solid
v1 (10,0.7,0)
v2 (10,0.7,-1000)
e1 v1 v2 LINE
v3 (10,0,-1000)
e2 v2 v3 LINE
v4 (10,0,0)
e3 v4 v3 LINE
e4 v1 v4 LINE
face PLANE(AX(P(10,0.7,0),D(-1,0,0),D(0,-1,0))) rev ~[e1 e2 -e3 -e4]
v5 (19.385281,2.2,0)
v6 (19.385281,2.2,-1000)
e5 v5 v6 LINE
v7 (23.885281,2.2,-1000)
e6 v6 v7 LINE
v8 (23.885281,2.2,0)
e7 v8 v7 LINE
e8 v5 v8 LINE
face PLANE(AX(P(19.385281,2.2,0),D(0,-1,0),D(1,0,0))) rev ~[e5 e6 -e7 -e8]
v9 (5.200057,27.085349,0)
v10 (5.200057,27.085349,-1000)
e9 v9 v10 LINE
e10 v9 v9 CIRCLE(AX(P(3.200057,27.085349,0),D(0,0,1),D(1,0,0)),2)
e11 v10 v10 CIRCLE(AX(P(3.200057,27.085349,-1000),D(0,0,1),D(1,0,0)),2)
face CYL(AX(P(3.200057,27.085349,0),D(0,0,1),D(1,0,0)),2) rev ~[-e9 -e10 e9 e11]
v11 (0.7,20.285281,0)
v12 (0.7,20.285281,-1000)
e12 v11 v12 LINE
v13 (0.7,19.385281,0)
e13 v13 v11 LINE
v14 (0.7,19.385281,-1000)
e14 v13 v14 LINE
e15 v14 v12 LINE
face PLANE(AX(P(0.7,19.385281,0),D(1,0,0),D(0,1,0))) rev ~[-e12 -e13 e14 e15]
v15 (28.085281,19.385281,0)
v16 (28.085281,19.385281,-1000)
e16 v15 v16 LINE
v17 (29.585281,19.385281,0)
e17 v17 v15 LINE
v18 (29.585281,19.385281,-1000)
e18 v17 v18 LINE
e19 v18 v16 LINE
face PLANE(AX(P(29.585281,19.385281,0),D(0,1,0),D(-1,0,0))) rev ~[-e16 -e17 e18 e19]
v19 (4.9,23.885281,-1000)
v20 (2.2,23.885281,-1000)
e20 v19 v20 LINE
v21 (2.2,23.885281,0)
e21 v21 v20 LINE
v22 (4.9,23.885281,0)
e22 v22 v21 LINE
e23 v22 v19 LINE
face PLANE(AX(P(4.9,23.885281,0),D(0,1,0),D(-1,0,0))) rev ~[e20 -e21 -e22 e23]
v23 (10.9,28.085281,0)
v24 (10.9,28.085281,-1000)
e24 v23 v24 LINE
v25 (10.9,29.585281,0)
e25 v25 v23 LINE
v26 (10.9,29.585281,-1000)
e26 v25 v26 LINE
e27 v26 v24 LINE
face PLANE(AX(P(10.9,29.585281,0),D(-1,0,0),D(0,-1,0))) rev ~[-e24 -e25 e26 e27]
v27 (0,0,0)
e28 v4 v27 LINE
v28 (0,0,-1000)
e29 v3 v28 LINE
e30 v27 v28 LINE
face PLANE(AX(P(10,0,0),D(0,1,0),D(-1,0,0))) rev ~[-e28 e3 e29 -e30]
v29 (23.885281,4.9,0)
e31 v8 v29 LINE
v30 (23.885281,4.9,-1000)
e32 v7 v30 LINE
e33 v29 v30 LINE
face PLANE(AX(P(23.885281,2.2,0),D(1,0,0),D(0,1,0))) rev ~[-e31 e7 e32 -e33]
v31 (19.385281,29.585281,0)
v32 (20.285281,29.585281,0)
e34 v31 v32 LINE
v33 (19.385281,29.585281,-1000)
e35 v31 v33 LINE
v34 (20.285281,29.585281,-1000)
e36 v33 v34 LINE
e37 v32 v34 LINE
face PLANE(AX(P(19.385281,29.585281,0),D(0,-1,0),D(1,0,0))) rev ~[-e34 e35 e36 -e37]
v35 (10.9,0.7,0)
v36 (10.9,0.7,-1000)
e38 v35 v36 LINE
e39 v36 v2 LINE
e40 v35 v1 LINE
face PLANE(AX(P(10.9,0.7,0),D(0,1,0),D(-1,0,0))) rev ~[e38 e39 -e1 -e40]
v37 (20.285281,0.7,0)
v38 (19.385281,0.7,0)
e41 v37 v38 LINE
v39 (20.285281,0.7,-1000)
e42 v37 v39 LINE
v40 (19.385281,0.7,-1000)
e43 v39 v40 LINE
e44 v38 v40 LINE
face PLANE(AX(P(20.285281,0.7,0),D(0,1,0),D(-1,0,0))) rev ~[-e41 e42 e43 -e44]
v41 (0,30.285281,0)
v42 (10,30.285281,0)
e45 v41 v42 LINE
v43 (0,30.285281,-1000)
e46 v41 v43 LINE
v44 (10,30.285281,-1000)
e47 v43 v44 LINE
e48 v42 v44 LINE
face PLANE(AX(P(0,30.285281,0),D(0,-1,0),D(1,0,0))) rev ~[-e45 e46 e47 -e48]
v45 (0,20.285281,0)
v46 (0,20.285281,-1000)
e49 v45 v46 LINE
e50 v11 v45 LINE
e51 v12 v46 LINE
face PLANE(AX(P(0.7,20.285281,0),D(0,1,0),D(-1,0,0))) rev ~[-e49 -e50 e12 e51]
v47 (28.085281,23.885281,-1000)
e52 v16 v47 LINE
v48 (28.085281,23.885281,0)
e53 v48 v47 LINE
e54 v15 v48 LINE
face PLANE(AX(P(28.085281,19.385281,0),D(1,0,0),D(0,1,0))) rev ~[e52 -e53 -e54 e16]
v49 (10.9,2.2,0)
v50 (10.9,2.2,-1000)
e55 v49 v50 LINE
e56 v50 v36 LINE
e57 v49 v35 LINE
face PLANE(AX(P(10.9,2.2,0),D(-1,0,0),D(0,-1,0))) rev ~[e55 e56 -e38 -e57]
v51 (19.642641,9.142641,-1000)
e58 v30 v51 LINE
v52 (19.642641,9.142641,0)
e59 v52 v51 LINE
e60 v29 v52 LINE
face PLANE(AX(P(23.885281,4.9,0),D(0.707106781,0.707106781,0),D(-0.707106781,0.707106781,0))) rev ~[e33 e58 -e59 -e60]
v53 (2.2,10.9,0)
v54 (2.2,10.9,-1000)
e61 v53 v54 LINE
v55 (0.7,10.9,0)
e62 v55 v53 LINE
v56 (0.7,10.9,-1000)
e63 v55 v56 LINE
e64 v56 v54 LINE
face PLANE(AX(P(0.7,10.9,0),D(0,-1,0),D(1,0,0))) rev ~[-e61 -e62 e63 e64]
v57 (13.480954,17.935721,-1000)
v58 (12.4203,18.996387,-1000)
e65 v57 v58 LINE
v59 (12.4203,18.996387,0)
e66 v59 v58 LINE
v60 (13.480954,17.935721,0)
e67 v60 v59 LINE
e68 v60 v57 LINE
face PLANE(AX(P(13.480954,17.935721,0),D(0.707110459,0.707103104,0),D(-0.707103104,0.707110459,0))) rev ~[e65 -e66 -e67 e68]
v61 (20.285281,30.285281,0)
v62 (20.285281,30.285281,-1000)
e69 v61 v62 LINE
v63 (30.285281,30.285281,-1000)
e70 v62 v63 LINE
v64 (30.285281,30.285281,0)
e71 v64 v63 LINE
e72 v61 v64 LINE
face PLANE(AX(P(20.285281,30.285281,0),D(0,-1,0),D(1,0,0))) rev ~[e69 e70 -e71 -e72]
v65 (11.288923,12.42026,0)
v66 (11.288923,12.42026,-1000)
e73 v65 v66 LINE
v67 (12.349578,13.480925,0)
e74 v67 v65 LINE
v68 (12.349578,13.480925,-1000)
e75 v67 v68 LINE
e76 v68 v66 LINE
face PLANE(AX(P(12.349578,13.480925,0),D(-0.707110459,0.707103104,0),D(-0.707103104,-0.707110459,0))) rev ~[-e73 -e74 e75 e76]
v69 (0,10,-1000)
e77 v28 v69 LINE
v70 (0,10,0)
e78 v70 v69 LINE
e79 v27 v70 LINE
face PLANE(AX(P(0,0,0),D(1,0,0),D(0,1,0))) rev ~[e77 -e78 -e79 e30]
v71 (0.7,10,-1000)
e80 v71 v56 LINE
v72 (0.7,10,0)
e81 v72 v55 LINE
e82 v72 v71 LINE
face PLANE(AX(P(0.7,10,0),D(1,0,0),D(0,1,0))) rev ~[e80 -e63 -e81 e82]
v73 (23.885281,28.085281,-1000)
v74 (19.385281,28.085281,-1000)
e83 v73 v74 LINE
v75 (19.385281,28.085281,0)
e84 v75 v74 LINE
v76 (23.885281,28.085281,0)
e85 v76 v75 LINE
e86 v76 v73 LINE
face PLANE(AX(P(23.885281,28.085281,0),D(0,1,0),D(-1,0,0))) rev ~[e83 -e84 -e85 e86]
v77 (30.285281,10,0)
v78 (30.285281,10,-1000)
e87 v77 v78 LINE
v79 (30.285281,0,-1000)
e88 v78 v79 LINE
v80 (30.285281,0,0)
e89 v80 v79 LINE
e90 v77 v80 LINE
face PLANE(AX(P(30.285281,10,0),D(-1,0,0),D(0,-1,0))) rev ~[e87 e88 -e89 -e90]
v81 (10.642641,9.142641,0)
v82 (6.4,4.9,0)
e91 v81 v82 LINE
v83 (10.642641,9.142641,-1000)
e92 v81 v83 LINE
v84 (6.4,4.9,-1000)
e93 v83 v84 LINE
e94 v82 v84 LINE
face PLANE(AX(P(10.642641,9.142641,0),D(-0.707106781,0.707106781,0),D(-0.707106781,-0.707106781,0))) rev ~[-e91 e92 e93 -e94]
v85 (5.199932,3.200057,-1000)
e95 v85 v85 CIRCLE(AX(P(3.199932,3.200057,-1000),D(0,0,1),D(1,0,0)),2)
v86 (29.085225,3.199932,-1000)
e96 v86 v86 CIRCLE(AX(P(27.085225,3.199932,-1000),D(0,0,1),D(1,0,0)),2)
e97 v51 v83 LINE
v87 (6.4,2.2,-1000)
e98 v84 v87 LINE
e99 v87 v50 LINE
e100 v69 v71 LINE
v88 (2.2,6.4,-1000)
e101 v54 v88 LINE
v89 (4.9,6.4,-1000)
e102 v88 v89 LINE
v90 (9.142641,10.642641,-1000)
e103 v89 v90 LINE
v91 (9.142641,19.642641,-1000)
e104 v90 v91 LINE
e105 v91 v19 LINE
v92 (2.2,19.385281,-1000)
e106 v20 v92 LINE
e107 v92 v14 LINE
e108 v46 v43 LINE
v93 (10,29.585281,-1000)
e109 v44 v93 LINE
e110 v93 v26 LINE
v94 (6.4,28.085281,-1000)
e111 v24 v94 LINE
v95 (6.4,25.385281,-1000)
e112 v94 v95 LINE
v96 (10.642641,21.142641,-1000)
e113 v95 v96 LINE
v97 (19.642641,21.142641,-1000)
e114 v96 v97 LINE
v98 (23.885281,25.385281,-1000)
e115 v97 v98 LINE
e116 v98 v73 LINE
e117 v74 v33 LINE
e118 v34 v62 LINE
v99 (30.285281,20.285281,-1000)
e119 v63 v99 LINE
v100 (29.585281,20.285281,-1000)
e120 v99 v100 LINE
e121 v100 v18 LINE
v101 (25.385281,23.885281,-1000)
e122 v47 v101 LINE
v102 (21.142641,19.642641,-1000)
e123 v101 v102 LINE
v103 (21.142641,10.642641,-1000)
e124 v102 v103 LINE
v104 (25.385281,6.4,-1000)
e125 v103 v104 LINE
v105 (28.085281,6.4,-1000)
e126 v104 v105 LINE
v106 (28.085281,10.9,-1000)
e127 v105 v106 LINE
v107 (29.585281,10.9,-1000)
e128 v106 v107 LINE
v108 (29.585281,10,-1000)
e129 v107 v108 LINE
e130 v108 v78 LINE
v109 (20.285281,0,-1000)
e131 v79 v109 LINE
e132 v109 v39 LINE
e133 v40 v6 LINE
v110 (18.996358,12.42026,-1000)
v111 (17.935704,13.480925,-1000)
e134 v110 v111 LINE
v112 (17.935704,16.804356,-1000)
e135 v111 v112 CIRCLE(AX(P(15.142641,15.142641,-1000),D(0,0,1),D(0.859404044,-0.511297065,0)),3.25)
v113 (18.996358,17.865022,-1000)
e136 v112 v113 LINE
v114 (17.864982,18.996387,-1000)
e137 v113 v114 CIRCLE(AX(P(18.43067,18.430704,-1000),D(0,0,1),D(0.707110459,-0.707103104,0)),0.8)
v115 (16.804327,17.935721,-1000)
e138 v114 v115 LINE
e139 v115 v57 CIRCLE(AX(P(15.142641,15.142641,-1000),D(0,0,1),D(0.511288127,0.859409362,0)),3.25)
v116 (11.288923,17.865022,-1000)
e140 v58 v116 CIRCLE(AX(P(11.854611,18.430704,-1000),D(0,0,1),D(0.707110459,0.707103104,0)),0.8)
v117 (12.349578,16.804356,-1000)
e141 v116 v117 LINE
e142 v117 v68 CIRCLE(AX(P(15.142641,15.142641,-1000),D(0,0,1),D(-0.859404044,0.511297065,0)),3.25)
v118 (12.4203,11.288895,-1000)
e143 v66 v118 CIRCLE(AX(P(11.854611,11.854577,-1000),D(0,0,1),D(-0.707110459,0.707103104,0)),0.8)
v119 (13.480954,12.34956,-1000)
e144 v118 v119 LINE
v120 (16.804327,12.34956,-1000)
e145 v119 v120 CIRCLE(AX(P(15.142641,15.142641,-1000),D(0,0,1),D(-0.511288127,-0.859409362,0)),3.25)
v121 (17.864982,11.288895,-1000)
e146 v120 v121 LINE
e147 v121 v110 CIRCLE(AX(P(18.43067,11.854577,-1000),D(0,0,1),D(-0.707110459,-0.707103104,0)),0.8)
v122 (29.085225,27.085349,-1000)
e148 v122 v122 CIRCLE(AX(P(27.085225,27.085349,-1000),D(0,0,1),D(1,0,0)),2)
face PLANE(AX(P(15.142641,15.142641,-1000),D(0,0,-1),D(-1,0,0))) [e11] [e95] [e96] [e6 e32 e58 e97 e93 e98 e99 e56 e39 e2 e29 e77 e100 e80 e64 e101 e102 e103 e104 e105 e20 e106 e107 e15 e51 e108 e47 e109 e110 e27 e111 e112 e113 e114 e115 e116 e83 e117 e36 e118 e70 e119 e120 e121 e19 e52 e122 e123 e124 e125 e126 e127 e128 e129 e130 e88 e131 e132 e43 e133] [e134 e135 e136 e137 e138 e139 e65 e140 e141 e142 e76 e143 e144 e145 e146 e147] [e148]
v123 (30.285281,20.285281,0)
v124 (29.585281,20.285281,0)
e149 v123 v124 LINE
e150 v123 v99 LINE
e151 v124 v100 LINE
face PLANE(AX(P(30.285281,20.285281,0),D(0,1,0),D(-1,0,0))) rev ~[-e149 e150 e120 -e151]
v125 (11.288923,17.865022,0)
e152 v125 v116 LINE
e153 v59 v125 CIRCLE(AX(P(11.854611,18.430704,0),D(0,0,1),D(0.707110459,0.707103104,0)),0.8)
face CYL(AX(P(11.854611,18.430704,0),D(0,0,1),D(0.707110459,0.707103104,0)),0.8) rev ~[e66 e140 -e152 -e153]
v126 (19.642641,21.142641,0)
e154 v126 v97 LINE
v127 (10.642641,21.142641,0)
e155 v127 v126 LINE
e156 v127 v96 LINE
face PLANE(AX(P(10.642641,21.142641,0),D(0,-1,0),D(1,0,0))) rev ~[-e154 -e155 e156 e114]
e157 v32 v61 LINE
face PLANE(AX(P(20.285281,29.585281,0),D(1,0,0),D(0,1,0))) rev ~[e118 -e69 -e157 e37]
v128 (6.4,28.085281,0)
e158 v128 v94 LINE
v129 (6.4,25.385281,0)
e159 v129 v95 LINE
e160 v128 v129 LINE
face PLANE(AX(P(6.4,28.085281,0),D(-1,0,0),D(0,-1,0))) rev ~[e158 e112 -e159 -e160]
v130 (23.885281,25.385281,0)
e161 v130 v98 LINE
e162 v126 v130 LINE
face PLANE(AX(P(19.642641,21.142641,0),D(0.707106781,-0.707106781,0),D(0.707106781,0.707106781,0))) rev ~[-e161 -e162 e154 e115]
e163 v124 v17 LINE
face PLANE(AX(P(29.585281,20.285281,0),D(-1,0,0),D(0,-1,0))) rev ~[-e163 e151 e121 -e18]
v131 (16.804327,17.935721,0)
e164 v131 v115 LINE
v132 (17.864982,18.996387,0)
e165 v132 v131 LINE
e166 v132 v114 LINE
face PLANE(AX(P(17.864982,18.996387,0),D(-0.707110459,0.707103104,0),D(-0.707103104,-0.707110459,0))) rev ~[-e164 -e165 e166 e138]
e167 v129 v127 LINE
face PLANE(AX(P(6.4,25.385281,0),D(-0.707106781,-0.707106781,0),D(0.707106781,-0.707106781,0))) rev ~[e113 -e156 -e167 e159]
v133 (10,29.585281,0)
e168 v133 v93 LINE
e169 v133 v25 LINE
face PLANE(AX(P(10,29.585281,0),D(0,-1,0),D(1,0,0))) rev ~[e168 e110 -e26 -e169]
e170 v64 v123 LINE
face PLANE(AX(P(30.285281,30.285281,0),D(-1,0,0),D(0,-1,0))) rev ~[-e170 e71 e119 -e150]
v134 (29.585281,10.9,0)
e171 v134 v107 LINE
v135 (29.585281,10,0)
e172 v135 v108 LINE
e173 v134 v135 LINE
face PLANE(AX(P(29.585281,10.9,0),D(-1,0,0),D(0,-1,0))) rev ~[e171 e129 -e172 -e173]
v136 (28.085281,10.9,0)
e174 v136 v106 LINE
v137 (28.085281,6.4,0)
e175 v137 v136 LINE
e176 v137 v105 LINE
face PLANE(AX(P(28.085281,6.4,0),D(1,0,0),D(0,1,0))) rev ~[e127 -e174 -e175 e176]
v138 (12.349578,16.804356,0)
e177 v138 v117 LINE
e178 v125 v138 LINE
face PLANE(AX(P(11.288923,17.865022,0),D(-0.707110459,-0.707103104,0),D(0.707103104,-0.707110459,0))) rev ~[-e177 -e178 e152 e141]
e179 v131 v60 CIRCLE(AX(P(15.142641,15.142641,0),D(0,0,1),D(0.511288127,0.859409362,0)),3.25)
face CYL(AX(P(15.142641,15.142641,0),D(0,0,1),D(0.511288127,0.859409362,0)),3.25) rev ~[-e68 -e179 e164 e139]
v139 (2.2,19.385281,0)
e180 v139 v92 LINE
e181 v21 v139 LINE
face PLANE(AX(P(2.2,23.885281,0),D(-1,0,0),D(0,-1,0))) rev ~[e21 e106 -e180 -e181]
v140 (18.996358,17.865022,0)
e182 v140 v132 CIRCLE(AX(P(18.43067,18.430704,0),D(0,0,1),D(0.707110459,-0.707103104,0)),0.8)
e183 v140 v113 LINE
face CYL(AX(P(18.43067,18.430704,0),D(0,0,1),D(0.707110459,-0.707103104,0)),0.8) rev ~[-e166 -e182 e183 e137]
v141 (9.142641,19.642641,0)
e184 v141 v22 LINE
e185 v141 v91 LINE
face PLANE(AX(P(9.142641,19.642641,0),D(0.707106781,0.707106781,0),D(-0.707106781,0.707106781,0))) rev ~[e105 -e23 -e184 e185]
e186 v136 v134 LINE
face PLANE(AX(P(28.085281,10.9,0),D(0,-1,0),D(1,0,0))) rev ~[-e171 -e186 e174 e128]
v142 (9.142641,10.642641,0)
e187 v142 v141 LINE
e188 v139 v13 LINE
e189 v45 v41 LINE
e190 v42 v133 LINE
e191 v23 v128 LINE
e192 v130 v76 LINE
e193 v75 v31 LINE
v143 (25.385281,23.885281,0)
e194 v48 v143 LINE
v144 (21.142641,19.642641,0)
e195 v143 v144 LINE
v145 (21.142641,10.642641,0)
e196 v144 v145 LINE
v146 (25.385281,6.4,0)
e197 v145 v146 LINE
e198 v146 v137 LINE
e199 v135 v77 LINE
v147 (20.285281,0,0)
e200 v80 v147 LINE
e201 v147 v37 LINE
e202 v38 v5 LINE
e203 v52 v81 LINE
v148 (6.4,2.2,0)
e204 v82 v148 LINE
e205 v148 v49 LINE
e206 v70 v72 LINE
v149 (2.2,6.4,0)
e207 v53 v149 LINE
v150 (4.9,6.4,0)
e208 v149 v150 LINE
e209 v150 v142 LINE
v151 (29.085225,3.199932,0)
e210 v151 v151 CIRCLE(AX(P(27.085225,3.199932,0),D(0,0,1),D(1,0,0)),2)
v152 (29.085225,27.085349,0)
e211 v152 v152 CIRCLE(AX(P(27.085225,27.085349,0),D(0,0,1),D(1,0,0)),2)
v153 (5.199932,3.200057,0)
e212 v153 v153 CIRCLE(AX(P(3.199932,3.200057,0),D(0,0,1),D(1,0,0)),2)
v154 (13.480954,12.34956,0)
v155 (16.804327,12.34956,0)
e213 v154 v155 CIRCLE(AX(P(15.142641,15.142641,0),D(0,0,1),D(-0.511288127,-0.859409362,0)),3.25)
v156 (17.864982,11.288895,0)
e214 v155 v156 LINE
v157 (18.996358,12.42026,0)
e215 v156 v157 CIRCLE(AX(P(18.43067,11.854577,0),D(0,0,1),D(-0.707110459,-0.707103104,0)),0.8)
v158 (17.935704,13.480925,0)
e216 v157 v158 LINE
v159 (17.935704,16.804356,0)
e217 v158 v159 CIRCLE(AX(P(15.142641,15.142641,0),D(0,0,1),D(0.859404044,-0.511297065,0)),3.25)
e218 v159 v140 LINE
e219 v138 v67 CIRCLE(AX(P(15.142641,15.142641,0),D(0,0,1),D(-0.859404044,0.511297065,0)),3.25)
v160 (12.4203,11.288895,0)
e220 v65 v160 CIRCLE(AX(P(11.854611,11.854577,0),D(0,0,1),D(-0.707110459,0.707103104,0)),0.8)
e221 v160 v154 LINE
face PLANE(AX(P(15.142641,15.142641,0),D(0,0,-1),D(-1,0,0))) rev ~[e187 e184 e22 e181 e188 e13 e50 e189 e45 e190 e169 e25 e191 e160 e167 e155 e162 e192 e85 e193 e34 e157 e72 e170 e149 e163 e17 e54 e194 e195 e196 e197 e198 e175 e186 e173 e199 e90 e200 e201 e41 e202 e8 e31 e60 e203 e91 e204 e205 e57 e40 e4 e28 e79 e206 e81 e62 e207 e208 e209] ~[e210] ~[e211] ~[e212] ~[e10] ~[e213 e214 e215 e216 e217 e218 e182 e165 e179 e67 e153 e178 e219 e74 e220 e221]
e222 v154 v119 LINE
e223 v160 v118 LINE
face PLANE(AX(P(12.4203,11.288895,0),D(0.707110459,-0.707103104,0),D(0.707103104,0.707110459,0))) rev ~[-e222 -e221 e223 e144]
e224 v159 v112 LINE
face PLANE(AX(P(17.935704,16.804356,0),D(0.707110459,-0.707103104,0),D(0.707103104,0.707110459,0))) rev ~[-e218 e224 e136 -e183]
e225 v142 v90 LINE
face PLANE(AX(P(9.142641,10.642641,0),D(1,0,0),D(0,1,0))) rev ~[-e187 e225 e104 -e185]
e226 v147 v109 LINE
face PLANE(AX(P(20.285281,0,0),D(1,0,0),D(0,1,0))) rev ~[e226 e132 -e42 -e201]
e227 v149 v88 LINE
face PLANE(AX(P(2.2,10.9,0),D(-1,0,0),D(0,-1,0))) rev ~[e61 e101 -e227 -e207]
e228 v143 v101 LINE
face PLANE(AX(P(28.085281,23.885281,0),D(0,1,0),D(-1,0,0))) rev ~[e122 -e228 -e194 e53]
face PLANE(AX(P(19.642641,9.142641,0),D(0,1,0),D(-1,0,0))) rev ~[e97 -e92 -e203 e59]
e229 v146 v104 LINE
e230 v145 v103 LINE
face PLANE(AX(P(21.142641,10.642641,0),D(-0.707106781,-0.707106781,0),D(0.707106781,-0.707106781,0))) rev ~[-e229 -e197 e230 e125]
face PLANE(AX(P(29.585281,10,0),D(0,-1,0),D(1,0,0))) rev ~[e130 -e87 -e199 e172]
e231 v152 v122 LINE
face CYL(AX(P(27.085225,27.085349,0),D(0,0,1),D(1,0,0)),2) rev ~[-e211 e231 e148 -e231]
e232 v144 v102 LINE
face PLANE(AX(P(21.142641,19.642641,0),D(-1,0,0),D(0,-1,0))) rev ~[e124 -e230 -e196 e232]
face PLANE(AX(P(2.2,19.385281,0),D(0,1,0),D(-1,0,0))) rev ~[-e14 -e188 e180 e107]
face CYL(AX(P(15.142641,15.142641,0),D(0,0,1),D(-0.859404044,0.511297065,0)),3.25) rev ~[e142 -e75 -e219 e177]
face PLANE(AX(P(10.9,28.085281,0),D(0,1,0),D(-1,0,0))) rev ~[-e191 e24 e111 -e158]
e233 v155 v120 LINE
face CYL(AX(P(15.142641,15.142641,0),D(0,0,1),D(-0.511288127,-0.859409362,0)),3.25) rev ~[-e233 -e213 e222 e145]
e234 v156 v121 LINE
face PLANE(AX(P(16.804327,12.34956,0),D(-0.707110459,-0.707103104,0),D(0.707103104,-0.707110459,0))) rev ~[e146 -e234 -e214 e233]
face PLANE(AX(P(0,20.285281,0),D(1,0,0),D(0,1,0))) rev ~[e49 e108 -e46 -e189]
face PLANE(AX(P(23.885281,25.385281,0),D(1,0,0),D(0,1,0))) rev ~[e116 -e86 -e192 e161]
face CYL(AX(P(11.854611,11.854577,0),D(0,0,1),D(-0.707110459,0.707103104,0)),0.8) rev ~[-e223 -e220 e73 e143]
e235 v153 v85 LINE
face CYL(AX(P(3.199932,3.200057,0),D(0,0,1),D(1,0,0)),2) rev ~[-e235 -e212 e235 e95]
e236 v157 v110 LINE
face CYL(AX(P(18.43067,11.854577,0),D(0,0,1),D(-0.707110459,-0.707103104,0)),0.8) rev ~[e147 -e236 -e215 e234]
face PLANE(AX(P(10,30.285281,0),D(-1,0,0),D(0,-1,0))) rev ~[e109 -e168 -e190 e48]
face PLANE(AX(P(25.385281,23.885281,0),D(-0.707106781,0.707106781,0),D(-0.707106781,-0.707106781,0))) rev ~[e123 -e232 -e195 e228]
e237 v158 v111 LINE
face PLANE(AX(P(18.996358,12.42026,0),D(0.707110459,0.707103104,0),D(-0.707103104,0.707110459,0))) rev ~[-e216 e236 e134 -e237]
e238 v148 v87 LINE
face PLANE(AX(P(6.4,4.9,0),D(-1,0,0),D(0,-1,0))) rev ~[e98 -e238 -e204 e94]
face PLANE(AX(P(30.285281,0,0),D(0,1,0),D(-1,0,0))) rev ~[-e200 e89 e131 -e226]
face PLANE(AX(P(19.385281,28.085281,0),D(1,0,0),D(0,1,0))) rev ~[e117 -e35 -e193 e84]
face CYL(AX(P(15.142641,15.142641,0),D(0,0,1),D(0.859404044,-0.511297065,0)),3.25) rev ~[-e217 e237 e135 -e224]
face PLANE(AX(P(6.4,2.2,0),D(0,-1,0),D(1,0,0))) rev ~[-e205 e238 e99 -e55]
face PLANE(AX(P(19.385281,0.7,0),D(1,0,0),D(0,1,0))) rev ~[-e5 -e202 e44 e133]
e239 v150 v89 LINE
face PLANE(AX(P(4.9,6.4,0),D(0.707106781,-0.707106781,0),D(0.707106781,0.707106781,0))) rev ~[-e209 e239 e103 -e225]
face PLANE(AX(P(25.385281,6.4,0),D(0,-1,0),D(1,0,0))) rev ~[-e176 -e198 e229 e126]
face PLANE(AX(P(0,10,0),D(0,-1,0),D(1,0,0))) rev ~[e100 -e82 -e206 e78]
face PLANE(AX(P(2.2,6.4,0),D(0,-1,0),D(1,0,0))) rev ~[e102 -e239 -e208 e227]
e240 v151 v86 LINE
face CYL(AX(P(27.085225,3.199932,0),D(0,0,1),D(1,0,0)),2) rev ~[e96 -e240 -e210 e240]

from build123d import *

# Parameters (mm, degrees)
BOSS_EXTRUDE2_DEPTH = 1000
CUT_EXTRUDE1_REACH  = 1002
SKETCH3_R           = 2
SKETCH3_R_2         = 1.999999992


with BuildPart() as part:
    # Sketch2 → Boss-Extrude2 (new body)
    with BuildSketch(Plane.XY):
        Polygon((0, 0), (0, 10), (0.7, 10), (0.7, 10.9), (2.2, 10.9), (2.2, 6.4), (4.9, 6.4), (9.142640687, 10.642640687), (9.142640687, 19.642640687), (4.9, 23.885281374), (2.2, 23.885281374), (2.2, 19.385281374), (0.7, 19.385281374), (0.7, 20.285281374), (0, 20.285281374), (0, 30.285281374), (10, 30.285281374), (10, 29.585281374), (10.9, 29.585281374), (10.9, 28.085281374), (6.4, 28.085281374), (6.4, 25.385281374), (10.642640687, 21.142640687), (19.642640687, 21.142640687), (23.885281374, 25.385281374), (23.885281374, 28.085281374), (19.385281374, 28.085281374), (19.385281374, 29.585281374), (20.285281374, 29.585281374), (20.285281374, 30.285281374), (30.285281374, 30.285281374), (30.285281374, 20.285281374), (29.585281374, 20.285281374), (29.585281374, 19.385281374), (28.085281374, 19.385281374), (28.085281374, 23.885281374), (25.385281374, 23.885281374), (21.142640687, 19.642640687), (21.142640687, 10.642640687), (25.385281374, 6.4), (28.085281374, 6.4), (28.085281374, 10.9), (29.585281374, 10.9), (29.585281374, 10), (30.285281374, 10), (30.285281374, 0), (20.285281374, 0), (20.285281374, 0.7), (19.385281374, 0.7), (19.385281374, 2.2), (23.885281374, 2.2), (23.885281374, 4.9), (19.642640687, 9.142640687), (10.642640687, 9.142640687), (6.4, 4.9), (6.4, 2.2), (10.9, 2.2), (10.9, 0.7), (10, 0.7), (10, 0), align=None)
    extrude(amount=-BOSS_EXTRUDE2_DEPTH)

    # Sketch3 → Cut-Extrude1 (cut, up to next)
    with BuildSketch(Plane.XY, mode=Mode.PRIVATE) as cut_extrude1_sk1:
        with Locations((3.200056686, 27.085348905)):
            Circle(SKETCH3_R)
    cut_extrude1_tool1 = extrude(cut_extrude1_sk1.sketch, amount=-CUT_EXTRUDE1_REACH, mode=Mode.PRIVATE) & part.part
    add(cut_extrude1_tool1.solids().sort_by_distance((3.200057, 27.085349, 0))[0], mode=Mode.SUBTRACT)
    # Sketch3 → Cut-Extrude1 (cut, up to next)
    with BuildSketch(Plane.XY, mode=Mode.PRIVATE) as cut_extrude1_sk2:
        with Locations((27.085224689, 27.085348905)):
            Circle(SKETCH3_R)
    cut_extrude1_tool2 = extrude(cut_extrude1_sk2.sketch, amount=-CUT_EXTRUDE1_REACH, mode=Mode.PRIVATE) & part.part
    add(cut_extrude1_tool2.solids().sort_by_distance((27.085225, 27.085349, 0))[0], mode=Mode.SUBTRACT)
    # Sketch3 → Cut-Extrude1 (cut, up to next)
    with BuildSketch(Plane.XY, mode=Mode.PRIVATE) as cut_extrude1_sk3:
        with Locations((27.085224689, 3.19993247)):
            Circle(SKETCH3_R)
    cut_extrude1_tool3 = extrude(cut_extrude1_sk3.sketch, amount=-CUT_EXTRUDE1_REACH, mode=Mode.PRIVATE) & part.part
    add(cut_extrude1_tool3.solids().sort_by_distance((27.085225, 3.199932, 0))[0], mode=Mode.SUBTRACT)
    # Sketch3 → Cut-Extrude1 (cut, up to next)
    with BuildSketch(Plane.XY, mode=Mode.PRIVATE) as cut_extrude1_sk4:
        with Locations((3.19993247, 3.200056686)):
            Circle(SKETCH3_R_2)
    cut_extrude1_tool4 = extrude(cut_extrude1_sk4.sketch, amount=-CUT_EXTRUDE1_REACH, mode=Mode.PRIVATE) & part.part
    add(cut_extrude1_tool4.solids().sort_by_distance((3.199932, 3.200057, 0))[0], mode=Mode.SUBTRACT)
    # Sketch3 → Cut-Extrude1 (cut, up to next)
    with BuildSketch(Plane.XY, mode=Mode.PRIVATE) as cut_extrude1_sk5:
        with BuildLine():
            Line((11.288922887, 17.865021836), (12.349577543, 16.804356148))
            ThreePointArc((12.349577543, 16.804356148), (11.892640687, 15.142640687), (12.349577543, 13.480925226))
            Line((12.349577543, 13.480925226), (11.288922887, 12.420259538))
            ThreePointArc((11.288922887, 12.420259538), (11.288928771, 11.288888688), (12.420299621, 11.288894572))
            Line((12.420299621, 11.288894572), (13.480954277, 12.34956026))
            ThreePointArc((13.480954277, 12.34956026), (15.142640687, 11.892640687), (16.804327097, 12.34956026))
            Line((16.804327097, 12.34956026), (17.864981753, 11.288894572))
            ThreePointArc((17.864981753, 11.288894572), (18.996352603, 11.288888688), (18.996358487, 12.420259538))
            Line((18.996358487, 12.420259538), (17.935703831, 13.480925226))
            ThreePointArc((17.935703831, 13.480925226), (18.392640687, 15.142640687), (17.935703831, 16.804356148))
            Line((17.935703831, 16.804356148), (18.996358487, 17.865021836))
            ThreePointArc((18.996358487, 17.865021836), (18.996352603, 18.996392686), (17.864981753, 18.996386802))
            Line((17.864981753, 18.996386802), (16.804327097, 17.935721114))
            ThreePointArc((16.804327097, 17.935721114), (15.142640687, 18.392640687), (13.480954277, 17.935721114))
            Line((13.480954277, 17.935721114), (12.420299621, 18.996386802))
            ThreePointArc((12.420299621, 18.996386802), (11.288928771, 18.996392686), (11.288922887, 17.865021836))
        make_face()
    cut_extrude1_tool5 = extrude(cut_extrude1_sk5.sketch, amount=-CUT_EXTRUDE1_REACH, mode=Mode.PRIVATE) & part.part
    add(cut_extrude1_tool5.solids().sort_by_distance((15.142641, 15.142641, 0))[0], mode=Mode.SUBTRACT)


solid = part.part
